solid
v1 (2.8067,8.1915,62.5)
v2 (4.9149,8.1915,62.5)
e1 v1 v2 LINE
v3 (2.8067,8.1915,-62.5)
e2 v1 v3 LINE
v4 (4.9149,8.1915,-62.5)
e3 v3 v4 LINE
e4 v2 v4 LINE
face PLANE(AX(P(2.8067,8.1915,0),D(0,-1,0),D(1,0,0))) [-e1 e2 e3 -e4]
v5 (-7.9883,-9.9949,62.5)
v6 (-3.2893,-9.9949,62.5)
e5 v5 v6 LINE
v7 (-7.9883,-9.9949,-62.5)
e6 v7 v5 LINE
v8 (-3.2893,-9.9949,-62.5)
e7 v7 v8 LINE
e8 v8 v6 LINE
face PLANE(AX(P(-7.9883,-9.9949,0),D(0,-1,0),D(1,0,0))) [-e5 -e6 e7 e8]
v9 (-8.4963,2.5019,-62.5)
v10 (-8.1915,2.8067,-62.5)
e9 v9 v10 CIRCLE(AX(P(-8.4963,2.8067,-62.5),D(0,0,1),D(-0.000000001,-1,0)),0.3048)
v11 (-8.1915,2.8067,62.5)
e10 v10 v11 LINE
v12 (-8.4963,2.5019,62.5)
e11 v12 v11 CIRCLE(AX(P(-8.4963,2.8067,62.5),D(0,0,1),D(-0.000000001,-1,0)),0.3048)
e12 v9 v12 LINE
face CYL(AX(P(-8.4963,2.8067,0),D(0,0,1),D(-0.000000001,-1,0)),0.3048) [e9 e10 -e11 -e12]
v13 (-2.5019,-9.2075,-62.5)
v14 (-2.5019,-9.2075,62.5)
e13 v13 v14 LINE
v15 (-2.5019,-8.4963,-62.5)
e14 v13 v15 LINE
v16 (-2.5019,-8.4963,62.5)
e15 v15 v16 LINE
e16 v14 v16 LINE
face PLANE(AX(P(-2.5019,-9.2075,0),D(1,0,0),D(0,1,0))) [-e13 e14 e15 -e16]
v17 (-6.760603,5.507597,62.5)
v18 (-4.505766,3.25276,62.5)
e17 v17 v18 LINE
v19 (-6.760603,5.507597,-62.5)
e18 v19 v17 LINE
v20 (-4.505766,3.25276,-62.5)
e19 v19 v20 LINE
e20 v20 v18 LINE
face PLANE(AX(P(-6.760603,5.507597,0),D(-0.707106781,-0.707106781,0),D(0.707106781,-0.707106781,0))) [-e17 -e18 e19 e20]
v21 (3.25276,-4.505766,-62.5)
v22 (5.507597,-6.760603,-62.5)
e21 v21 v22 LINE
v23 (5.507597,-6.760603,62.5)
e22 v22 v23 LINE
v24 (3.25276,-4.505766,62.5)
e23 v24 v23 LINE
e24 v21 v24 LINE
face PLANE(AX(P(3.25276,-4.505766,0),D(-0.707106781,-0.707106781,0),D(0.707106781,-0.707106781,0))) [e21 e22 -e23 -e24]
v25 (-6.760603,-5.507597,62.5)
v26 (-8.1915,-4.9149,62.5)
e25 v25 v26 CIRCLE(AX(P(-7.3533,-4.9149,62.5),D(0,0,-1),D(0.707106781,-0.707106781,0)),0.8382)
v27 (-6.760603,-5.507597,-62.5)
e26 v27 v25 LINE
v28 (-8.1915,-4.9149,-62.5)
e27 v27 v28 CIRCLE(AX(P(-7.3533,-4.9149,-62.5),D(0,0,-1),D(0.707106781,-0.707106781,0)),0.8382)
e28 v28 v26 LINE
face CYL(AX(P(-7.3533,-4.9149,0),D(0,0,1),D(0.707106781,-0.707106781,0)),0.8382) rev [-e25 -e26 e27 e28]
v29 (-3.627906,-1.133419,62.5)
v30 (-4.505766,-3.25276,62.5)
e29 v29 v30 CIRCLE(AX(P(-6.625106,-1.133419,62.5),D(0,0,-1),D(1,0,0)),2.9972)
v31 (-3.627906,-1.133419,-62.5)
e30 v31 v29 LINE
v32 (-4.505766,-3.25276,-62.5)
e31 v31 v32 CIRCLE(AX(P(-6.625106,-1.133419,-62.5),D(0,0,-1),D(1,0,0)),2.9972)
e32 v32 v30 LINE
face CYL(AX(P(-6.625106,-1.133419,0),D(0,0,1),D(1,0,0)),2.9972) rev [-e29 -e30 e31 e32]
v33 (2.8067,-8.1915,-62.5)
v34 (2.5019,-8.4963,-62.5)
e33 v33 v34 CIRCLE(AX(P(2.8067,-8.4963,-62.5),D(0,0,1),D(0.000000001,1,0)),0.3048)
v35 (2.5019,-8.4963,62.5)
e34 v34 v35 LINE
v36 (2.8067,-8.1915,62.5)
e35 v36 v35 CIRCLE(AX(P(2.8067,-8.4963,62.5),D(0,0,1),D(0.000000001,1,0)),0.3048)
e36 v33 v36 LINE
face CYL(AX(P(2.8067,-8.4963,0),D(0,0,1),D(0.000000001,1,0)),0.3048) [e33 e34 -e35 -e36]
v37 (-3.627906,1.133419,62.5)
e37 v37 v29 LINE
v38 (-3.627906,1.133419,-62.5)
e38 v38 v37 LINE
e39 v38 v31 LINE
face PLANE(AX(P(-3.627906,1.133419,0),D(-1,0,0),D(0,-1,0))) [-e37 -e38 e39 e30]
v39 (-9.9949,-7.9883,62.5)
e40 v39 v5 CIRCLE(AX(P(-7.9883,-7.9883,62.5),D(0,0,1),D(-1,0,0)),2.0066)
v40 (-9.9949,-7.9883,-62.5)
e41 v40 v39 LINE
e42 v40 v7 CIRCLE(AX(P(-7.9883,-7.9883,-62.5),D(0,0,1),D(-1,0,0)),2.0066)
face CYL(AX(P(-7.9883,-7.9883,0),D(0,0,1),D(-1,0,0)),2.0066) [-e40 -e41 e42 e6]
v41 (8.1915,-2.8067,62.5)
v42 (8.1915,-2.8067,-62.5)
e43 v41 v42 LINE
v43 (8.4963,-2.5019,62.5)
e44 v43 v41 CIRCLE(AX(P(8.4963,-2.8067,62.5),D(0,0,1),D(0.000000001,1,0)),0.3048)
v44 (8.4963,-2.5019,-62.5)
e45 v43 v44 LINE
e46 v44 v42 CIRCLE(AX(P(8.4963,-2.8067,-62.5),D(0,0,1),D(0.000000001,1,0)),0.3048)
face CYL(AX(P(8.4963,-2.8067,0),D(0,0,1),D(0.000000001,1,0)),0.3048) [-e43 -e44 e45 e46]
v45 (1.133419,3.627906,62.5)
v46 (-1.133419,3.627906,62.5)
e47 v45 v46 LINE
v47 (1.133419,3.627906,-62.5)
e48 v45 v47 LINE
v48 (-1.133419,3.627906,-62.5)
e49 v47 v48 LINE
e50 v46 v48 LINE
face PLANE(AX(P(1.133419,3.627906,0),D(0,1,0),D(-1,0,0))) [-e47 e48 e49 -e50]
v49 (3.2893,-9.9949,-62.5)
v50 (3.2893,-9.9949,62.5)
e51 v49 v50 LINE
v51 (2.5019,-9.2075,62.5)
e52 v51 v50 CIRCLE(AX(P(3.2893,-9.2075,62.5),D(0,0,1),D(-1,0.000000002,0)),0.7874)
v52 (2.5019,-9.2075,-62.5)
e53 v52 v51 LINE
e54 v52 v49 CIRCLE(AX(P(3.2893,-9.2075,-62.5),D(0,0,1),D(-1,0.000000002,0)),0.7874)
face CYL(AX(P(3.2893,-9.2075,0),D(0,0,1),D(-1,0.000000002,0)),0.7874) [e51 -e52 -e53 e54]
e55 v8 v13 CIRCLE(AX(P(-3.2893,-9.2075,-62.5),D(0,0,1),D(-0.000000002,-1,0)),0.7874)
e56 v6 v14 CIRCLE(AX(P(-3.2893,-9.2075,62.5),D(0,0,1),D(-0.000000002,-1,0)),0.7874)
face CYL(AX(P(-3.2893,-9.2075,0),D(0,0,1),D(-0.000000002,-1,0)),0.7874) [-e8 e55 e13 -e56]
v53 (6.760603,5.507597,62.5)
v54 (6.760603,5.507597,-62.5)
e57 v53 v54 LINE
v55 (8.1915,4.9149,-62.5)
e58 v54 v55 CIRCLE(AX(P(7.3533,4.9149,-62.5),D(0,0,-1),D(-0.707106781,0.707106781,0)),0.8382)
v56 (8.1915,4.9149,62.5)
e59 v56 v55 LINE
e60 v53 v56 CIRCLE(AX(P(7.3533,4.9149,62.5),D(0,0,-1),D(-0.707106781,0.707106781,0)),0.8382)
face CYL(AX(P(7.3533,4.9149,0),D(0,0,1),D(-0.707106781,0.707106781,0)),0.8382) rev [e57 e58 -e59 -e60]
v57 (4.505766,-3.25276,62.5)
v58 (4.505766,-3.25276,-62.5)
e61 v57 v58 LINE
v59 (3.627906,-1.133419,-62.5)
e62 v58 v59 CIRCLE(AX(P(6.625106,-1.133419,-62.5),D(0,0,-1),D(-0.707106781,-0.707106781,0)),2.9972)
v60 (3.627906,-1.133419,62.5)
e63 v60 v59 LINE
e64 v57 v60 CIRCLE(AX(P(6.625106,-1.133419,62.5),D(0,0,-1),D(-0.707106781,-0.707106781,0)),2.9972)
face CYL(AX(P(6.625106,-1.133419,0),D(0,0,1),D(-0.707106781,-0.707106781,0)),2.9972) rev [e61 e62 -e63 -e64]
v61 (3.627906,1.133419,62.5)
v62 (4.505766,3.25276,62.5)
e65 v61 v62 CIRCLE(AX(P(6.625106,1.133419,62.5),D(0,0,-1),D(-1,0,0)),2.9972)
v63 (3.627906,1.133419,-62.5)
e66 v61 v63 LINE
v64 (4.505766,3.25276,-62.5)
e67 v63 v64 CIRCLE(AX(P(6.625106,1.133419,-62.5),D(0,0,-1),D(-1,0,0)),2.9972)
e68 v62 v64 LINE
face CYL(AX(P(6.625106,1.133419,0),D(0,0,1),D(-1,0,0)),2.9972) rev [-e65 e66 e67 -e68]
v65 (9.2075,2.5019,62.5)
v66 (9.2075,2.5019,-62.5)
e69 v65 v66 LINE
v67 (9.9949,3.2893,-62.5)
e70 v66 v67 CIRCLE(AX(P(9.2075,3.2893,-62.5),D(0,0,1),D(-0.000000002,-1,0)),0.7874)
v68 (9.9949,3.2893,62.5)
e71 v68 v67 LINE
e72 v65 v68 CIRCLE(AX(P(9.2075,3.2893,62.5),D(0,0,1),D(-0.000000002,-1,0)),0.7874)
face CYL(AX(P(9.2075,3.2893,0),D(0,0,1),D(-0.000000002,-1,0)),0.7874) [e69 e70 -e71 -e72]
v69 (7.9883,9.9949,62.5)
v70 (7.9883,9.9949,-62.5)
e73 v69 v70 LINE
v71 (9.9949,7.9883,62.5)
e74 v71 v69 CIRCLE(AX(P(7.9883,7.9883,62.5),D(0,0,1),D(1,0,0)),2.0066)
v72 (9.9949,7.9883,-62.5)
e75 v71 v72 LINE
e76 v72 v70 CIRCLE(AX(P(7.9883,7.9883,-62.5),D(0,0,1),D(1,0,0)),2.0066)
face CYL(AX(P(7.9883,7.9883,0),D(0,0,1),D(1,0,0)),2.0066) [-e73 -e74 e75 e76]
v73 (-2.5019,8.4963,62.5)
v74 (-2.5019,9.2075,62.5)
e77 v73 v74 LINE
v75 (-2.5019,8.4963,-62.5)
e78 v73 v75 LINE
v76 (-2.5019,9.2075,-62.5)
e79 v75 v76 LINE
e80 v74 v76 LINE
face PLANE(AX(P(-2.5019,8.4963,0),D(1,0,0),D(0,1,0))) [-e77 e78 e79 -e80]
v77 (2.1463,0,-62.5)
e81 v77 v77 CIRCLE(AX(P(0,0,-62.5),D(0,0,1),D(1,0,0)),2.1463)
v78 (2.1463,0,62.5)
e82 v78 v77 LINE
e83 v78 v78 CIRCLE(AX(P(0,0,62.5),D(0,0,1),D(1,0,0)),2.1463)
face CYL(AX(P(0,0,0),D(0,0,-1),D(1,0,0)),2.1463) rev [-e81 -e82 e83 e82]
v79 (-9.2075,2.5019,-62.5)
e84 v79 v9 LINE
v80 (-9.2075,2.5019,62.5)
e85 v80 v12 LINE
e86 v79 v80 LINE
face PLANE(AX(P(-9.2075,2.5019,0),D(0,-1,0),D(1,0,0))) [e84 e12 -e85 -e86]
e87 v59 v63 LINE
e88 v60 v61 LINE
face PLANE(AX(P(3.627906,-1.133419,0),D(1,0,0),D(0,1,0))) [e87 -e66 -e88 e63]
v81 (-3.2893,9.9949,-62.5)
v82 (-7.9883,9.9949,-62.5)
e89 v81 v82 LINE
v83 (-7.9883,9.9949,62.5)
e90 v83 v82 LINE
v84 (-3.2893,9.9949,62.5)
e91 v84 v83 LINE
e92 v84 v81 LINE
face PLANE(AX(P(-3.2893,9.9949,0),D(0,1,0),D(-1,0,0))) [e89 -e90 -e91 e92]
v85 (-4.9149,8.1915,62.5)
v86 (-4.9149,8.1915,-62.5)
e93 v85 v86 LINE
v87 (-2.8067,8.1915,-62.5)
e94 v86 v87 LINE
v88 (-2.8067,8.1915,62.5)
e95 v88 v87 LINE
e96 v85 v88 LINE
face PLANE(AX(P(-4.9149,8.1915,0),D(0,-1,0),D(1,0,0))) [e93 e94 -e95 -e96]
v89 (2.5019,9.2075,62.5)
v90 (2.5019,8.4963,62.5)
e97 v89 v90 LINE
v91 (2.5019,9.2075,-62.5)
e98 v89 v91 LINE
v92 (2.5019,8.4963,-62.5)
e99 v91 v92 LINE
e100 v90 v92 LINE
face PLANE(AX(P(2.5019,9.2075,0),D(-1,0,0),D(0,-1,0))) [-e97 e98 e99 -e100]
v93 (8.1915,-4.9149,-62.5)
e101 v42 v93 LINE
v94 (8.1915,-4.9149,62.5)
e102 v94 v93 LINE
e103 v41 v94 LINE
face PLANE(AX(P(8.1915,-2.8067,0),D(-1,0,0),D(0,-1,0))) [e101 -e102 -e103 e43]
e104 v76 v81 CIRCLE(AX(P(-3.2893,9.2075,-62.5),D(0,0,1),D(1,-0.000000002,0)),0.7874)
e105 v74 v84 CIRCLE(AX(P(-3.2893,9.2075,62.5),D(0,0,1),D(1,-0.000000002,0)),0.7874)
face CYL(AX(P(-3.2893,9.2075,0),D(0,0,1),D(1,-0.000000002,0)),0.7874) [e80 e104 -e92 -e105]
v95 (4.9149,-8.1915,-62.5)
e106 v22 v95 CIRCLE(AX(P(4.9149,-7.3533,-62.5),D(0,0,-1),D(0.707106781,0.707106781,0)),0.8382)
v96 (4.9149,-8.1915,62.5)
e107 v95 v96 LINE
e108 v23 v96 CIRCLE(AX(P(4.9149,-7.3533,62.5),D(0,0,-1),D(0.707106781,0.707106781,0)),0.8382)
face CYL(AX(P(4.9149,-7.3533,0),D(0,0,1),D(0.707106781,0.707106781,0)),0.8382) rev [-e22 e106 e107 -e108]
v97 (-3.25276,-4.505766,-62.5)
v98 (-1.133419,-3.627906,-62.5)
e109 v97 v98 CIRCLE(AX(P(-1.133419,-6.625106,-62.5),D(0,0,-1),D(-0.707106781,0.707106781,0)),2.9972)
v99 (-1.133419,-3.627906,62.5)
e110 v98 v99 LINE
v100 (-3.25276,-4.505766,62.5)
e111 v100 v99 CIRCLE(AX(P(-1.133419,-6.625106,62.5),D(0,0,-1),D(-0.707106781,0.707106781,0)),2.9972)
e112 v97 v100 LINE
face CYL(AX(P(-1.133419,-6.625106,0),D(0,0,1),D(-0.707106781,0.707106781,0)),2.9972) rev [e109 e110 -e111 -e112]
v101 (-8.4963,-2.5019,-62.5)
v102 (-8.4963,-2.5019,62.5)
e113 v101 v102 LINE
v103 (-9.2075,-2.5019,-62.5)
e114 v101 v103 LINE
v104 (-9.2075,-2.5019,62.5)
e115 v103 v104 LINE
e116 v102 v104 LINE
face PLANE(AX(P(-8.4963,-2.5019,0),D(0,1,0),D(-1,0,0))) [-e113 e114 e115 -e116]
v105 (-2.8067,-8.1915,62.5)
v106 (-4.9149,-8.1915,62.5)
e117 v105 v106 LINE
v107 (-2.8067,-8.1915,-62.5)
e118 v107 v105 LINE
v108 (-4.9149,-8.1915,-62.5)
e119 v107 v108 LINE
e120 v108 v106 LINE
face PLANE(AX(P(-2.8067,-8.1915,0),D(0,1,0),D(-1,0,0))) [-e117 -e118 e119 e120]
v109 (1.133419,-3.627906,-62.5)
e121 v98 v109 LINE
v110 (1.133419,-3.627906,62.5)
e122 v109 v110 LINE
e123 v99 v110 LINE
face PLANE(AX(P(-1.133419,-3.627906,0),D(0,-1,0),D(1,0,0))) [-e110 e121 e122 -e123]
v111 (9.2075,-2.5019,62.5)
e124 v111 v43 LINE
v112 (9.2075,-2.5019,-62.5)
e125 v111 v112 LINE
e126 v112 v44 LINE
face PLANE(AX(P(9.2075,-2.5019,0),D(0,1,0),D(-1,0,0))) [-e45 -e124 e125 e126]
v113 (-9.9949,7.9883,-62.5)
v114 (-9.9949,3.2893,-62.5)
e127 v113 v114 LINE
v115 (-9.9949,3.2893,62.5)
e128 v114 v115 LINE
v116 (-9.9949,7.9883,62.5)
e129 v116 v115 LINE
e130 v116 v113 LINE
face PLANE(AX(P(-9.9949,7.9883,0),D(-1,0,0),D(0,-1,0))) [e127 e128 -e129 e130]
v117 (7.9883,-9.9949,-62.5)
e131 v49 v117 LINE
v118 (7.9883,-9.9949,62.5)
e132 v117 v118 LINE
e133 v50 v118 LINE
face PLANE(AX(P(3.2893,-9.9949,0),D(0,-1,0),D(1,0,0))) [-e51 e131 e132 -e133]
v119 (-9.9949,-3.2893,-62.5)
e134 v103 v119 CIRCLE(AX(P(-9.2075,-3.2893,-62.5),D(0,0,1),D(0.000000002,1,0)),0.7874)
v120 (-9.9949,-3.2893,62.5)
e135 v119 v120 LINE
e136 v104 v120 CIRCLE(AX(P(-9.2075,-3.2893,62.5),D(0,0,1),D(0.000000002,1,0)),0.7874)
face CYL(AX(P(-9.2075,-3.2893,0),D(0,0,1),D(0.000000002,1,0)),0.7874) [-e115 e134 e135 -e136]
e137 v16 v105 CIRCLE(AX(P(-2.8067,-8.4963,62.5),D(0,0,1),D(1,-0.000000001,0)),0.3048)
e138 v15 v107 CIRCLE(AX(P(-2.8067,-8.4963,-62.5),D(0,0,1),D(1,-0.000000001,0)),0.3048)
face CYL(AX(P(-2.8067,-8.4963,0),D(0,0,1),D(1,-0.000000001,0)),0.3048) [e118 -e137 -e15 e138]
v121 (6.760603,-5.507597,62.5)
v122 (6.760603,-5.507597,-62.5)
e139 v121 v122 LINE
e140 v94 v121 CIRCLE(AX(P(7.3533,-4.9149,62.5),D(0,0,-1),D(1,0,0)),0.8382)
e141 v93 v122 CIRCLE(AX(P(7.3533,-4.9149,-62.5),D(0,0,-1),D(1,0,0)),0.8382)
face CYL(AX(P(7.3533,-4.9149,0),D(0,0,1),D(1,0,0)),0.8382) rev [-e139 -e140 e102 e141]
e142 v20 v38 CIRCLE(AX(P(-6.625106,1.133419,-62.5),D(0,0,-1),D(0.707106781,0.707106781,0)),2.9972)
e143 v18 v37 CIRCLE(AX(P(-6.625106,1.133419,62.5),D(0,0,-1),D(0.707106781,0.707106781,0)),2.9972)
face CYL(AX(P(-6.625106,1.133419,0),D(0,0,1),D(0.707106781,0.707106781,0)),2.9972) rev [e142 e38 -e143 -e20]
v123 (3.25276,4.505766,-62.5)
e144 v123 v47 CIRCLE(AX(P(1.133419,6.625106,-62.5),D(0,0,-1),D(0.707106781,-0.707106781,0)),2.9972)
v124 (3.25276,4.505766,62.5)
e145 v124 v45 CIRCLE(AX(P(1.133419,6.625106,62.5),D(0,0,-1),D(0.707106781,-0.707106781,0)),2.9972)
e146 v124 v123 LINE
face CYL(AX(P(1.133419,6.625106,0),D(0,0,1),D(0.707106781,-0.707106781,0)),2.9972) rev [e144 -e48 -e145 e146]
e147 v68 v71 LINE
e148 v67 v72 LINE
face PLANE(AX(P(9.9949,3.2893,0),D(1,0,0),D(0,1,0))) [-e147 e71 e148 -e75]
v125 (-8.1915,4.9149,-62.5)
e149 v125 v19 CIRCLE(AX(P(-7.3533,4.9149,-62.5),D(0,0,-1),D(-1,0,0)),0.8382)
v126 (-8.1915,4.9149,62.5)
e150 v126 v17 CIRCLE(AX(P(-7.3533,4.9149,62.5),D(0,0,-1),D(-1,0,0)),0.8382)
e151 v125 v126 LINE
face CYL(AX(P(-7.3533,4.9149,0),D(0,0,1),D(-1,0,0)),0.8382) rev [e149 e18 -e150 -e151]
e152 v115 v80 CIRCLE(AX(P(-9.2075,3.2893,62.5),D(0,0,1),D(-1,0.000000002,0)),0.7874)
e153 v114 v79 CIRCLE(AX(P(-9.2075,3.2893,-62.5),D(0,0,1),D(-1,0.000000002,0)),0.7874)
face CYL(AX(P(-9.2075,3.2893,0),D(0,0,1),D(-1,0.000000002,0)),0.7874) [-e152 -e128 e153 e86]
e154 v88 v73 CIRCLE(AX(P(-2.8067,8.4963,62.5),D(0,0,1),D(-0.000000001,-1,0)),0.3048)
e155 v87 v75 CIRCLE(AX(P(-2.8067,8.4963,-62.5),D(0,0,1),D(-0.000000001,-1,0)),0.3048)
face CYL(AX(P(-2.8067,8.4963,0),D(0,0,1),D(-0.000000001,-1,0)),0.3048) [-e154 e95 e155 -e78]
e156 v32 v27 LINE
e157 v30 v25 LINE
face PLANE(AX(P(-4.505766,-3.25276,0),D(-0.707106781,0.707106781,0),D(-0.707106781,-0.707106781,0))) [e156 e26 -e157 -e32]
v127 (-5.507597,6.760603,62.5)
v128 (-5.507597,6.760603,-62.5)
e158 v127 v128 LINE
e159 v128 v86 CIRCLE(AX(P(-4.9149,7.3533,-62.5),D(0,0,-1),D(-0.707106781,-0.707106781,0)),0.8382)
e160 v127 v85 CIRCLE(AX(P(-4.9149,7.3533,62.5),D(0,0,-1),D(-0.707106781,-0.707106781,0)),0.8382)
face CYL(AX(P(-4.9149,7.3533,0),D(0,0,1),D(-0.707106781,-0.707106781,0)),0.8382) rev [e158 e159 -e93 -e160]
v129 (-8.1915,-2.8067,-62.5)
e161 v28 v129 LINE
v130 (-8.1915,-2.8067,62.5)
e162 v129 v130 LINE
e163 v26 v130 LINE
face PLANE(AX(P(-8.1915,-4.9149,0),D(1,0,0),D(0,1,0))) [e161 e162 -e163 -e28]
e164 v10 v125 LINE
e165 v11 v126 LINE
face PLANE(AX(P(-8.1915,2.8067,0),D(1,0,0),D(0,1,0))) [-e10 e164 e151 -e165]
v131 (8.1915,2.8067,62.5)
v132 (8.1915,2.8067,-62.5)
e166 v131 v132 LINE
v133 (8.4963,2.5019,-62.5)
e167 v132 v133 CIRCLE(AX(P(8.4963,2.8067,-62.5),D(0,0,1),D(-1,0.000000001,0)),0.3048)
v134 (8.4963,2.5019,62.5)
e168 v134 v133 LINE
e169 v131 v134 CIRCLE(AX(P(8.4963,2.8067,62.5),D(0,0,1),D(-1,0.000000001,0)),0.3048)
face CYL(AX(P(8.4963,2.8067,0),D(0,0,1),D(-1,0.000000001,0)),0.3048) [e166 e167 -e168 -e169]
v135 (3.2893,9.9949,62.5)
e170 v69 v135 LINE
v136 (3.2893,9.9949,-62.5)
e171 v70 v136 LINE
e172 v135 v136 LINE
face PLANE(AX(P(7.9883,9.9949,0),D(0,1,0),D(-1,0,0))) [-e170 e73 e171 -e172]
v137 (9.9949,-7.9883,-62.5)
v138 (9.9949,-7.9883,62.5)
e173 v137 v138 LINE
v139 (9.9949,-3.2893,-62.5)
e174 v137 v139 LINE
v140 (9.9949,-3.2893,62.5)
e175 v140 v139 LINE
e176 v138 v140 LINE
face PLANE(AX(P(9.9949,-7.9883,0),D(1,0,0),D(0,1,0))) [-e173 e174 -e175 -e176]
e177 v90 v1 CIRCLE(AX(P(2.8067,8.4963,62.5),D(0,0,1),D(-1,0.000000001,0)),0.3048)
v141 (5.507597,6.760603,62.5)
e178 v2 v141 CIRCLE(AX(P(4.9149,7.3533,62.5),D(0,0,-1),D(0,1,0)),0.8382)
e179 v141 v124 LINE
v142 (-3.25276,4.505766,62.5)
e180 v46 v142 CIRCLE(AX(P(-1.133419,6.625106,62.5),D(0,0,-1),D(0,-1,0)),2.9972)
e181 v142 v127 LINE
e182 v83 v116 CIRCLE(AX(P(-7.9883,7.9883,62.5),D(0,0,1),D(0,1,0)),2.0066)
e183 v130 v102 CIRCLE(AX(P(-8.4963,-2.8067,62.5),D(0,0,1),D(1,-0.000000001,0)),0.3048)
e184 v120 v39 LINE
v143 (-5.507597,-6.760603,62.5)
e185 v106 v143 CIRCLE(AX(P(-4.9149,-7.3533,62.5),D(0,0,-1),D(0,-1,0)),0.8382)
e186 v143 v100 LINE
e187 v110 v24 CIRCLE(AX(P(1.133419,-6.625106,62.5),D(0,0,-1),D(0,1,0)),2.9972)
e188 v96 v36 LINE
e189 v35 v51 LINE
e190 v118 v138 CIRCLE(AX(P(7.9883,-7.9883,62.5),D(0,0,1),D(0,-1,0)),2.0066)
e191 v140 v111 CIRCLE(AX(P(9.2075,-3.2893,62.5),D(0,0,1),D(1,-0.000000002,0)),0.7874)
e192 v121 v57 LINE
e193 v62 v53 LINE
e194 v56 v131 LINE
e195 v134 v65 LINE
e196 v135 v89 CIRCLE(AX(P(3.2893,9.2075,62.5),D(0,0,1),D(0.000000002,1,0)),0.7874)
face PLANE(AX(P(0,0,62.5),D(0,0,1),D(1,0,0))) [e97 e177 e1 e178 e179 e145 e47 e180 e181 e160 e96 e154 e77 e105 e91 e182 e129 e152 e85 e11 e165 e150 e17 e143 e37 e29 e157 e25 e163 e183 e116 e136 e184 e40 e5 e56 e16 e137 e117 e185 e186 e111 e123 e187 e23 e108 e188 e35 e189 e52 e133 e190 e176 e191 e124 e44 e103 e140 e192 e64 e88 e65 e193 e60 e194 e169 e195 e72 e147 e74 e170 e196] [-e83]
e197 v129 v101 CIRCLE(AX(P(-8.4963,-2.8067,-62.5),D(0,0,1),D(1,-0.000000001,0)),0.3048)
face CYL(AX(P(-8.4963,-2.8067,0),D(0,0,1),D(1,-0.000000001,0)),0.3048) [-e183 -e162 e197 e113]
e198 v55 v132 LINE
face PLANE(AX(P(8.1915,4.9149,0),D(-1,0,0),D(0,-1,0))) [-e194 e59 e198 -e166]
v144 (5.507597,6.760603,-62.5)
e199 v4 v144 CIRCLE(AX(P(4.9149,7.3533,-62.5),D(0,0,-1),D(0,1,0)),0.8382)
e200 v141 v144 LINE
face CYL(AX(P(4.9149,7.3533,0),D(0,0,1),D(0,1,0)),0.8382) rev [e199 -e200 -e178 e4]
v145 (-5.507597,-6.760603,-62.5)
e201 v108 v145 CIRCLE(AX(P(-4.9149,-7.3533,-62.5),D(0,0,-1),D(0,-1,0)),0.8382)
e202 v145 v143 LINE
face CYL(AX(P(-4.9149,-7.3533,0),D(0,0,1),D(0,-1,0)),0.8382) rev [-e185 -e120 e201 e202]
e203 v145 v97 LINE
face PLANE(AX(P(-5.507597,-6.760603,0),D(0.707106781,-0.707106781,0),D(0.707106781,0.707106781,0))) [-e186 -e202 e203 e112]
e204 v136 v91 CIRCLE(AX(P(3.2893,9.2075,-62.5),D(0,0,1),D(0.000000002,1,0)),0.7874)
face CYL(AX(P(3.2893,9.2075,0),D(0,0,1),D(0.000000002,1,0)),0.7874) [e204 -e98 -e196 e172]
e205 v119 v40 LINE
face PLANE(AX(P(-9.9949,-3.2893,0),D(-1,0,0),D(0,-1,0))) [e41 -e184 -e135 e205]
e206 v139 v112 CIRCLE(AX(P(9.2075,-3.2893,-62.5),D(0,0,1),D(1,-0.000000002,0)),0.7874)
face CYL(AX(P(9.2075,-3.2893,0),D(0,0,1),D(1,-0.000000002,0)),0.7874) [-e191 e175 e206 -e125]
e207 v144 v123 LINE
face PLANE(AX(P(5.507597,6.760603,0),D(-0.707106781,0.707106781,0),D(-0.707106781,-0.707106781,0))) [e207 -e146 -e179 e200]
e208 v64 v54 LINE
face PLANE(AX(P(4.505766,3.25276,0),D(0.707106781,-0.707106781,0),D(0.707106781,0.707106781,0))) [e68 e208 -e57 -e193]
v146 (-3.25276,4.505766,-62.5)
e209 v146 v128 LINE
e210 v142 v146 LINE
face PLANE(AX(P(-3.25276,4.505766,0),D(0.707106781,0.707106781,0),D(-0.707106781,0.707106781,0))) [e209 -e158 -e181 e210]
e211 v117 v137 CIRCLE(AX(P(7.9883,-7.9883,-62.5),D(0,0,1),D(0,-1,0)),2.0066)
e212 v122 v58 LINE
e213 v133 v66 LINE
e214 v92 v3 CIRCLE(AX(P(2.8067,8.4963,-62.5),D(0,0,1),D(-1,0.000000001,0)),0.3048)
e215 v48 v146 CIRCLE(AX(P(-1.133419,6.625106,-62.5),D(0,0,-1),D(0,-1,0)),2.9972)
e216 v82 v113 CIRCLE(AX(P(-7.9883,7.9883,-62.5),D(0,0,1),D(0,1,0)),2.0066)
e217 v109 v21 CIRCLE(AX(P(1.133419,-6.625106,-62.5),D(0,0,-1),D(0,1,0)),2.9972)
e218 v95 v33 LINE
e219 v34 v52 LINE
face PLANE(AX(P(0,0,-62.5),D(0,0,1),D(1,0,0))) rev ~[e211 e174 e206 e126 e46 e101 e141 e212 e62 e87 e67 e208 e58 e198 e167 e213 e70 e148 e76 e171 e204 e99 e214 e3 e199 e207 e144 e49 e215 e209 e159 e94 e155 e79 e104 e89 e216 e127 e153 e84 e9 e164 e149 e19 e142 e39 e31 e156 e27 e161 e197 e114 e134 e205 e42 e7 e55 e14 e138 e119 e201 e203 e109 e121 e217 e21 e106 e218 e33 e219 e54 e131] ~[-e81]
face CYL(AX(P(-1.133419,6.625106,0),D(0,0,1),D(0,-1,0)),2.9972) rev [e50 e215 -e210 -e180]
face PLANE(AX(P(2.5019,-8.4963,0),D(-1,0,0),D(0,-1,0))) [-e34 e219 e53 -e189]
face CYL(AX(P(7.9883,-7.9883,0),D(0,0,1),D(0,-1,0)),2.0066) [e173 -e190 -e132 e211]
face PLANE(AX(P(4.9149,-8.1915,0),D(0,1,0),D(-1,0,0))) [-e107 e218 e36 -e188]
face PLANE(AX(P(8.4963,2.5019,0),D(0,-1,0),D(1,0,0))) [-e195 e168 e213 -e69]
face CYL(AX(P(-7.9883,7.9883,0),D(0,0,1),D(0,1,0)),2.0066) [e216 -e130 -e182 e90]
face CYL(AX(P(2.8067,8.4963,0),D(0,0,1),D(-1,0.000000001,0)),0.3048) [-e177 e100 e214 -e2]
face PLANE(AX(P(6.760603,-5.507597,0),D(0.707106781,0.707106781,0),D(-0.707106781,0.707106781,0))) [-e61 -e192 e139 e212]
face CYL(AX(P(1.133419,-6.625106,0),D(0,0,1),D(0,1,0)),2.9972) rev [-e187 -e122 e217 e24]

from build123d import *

# Parameters (mm, degrees)
SKETCH1_R           = 2.1463
BOSS_EXTRUDE1_DEPTH = 62.5


with BuildPart() as part:
    # Sketch1 → Boss-Extrude1 (new body, symmetric)
    with BuildSketch(Plane.XY):
        with BuildLine():
            Line((-9.9949, 7.9883), (-9.9949, 3.2893))
            ThreePointArc((-9.9949, 3.2893), (-9.76427588, 2.73252412), (-9.2075, 2.5019))
            Line((-9.2075, 2.5019), (-8.4963, 2.5019))
            ThreePointArc((-8.4963, 2.5019), (-8.280773853, 2.591173853), (-8.1915, 2.8067))
            Line((-8.1915, 2.8067), (-8.1915, 4.9149))
            ThreePointArc((-8.1915, 4.9149), (-7.674065253, 5.689295824), (-6.760603096, 5.507596904))
            Line((-6.760603096, 5.507596904), (-4.505765747, 3.252759555))
            ThreePointArc((-4.505765747, 3.252759555), (-3.856054457, 2.280397894), (-3.627906192, 1.133419111))
            Line((-3.627906192, 1.133419111), (-3.627906192, -1.133419111))
            ThreePointArc((-3.627906192, -1.133419111), (-3.856054457, -2.280397894), (-4.505765747, -3.252759555))
            Line((-4.505765747, -3.252759555), (-6.760603096, -5.507596904))
            ThreePointArc((-6.760603096, -5.507596904), (-7.674065253, -5.689295824), (-8.1915, -4.9149))
            Line((-8.1915, -4.9149), (-8.1915, -2.8067))
            ThreePointArc((-8.1915, -2.8067), (-8.280773853, -2.591173853), (-8.4963, -2.5019))
            Line((-8.4963, -2.5019), (-9.2075, -2.5019))
            ThreePointArc((-9.2075, -2.5019), (-9.76427588, -2.73252412), (-9.9949, -3.2893))
            Line((-9.9949, -3.2893), (-9.9949, -7.9883))
            ThreePointArc((-9.9949, -7.9883), (-9.407180467, -9.407180467), (-7.9883, -9.9949))
            Line((-7.9883, -9.9949), (-3.2893, -9.9949))
            ThreePointArc((-3.2893, -9.9949), (-2.73252412, -9.76427588), (-2.5019, -9.2075))
            Line((-2.5019, -9.2075), (-2.5019, -8.4963))
            ThreePointArc((-2.5019, -8.4963), (-2.591173853, -8.280773853), (-2.8067, -8.1915))
            Line((-2.8067, -8.1915), (-4.9149, -8.1915))
            ThreePointArc((-4.9149, -8.1915), (-5.689295824, -7.674065253), (-5.507596904, -6.760603096))
            Line((-5.507596904, -6.760603096), (-3.252759555, -4.505765747))
            ThreePointArc((-3.252759555, -4.505765747), (-2.280397894, -3.856054457), (-1.133419111, -3.627906192))
            Line((-1.133419111, -3.627906192), (1.133419111, -3.627906192))
            ThreePointArc((1.133419111, -3.627906192), (2.280397894, -3.856054457), (3.252759555, -4.505765747))
            Line((3.252759555, -4.505765747), (5.507596904, -6.760603096))
            ThreePointArc((5.507596904, -6.760603096), (5.689295824, -7.674065253), (4.9149, -8.1915))
            Line((4.9149, -8.1915), (2.8067, -8.1915))
            ThreePointArc((2.8067, -8.1915), (2.591173853, -8.280773853), (2.5019, -8.4963))
            Line((2.5019, -8.4963), (2.5019, -9.2075))
            ThreePointArc((2.5019, -9.2075), (2.73252412, -9.76427588), (3.2893, -9.9949))
            Line((3.2893, -9.9949), (7.9883, -9.9949))
            ThreePointArc((7.9883, -9.9949), (9.407180467, -9.407180467), (9.9949, -7.9883))
            Line((9.9949, -7.9883), (9.9949, -3.2893))
            ThreePointArc((9.9949, -3.2893), (9.76427588, -2.73252412), (9.2075, -2.5019))
            Line((9.2075, -2.5019), (8.4963, -2.5019))
            ThreePointArc((8.4963, -2.5019), (8.280773853, -2.591173853), (8.1915, -2.8067))
            Line((8.1915, -2.8067), (8.1915, -4.9149))
            ThreePointArc((8.1915, -4.9149), (7.674065253, -5.689295824), (6.760603096, -5.507596904))
            Line((6.760603096, -5.507596904), (4.505765747, -3.252759555))
            ThreePointArc((4.505765747, -3.252759555), (3.856054457, -2.280397894), (3.627906192, -1.133419111))
            Line((3.627906192, -1.133419111), (3.627906192, 1.133419111))
            ThreePointArc((3.627906192, 1.133419111), (3.856054457, 2.280397894), (4.505765747, 3.252759555))
            Line((4.505765747, 3.252759555), (6.760603096, 5.507596904))
            ThreePointArc((6.760603096, 5.507596904), (7.674065253, 5.689295824), (8.1915, 4.9149))
            Line((8.1915, 4.9149), (8.1915, 2.8067))
            ThreePointArc((8.1915, 2.8067), (8.280773853, 2.591173853), (8.4963, 2.5019))
            Line((8.4963, 2.5019), (9.2075, 2.5019))
            ThreePointArc((9.2075, 2.5019), (9.76427588, 2.73252412), (9.9949, 3.2893))
            Line((9.9949, 3.2893), (9.9949, 7.9883))
            ThreePointArc((9.9949, 7.9883), (9.407180467, 9.407180467), (7.9883, 9.9949))
            Line((7.9883, 9.9949), (3.2893, 9.9949))
            ThreePointArc((3.2893, 9.9949), (2.73252412, 9.76427588), (2.5019, 9.2075))
            Line((2.5019, 9.2075), (2.5019, 8.4963))
            ThreePointArc((2.5019, 8.4963), (2.591173853, 8.280773853), (2.8067, 8.1915))
            Line((2.8067, 8.1915), (4.9149, 8.1915))
            ThreePointArc((4.9149, 8.1915), (5.689295824, 7.674065253), (5.507596904, 6.760603096))
            Line((5.507596904, 6.760603096), (3.252759555, 4.505765747))
            ThreePointArc((3.252759555, 4.505765747), (2.280397894, 3.856054457), (1.133419111, 3.627906192))
            Line((1.133419111, 3.627906192), (-1.133419111, 3.627906192))
            ThreePointArc((-1.133419111, 3.627906192), (-2.280397894, 3.856054457), (-3.252759555, 4.505765747))
            Line((-3.252759555, 4.505765747), (-5.507596904, 6.760603096))
            ThreePointArc((-5.507596904, 6.760603096), (-5.689295824, 7.674065253), (-4.9149, 8.1915))
            Line((-4.9149, 8.1915), (-2.8067, 8.1915))
            ThreePointArc((-2.8067, 8.1915), (-2.591173853, 8.280773853), (-2.5019, 8.4963))
            Line((-2.5019, 8.4963), (-2.5019, 9.2075))
            ThreePointArc((-2.5019, 9.2075), (-2.73252412, 9.76427588), (-3.2893, 9.9949))
            Line((-3.2893, 9.9949), (-7.9883, 9.9949))
            ThreePointArc((-7.9883, 9.9949), (-9.407180467, 9.407180467), (-9.9949, 7.9883))
        make_face()
        Circle(SKETCH1_R, mode=Mode.SUBTRACT)
    extrude(amount=BOSS_EXTRUDE1_DEPTH, both=True)


solid = part.part
